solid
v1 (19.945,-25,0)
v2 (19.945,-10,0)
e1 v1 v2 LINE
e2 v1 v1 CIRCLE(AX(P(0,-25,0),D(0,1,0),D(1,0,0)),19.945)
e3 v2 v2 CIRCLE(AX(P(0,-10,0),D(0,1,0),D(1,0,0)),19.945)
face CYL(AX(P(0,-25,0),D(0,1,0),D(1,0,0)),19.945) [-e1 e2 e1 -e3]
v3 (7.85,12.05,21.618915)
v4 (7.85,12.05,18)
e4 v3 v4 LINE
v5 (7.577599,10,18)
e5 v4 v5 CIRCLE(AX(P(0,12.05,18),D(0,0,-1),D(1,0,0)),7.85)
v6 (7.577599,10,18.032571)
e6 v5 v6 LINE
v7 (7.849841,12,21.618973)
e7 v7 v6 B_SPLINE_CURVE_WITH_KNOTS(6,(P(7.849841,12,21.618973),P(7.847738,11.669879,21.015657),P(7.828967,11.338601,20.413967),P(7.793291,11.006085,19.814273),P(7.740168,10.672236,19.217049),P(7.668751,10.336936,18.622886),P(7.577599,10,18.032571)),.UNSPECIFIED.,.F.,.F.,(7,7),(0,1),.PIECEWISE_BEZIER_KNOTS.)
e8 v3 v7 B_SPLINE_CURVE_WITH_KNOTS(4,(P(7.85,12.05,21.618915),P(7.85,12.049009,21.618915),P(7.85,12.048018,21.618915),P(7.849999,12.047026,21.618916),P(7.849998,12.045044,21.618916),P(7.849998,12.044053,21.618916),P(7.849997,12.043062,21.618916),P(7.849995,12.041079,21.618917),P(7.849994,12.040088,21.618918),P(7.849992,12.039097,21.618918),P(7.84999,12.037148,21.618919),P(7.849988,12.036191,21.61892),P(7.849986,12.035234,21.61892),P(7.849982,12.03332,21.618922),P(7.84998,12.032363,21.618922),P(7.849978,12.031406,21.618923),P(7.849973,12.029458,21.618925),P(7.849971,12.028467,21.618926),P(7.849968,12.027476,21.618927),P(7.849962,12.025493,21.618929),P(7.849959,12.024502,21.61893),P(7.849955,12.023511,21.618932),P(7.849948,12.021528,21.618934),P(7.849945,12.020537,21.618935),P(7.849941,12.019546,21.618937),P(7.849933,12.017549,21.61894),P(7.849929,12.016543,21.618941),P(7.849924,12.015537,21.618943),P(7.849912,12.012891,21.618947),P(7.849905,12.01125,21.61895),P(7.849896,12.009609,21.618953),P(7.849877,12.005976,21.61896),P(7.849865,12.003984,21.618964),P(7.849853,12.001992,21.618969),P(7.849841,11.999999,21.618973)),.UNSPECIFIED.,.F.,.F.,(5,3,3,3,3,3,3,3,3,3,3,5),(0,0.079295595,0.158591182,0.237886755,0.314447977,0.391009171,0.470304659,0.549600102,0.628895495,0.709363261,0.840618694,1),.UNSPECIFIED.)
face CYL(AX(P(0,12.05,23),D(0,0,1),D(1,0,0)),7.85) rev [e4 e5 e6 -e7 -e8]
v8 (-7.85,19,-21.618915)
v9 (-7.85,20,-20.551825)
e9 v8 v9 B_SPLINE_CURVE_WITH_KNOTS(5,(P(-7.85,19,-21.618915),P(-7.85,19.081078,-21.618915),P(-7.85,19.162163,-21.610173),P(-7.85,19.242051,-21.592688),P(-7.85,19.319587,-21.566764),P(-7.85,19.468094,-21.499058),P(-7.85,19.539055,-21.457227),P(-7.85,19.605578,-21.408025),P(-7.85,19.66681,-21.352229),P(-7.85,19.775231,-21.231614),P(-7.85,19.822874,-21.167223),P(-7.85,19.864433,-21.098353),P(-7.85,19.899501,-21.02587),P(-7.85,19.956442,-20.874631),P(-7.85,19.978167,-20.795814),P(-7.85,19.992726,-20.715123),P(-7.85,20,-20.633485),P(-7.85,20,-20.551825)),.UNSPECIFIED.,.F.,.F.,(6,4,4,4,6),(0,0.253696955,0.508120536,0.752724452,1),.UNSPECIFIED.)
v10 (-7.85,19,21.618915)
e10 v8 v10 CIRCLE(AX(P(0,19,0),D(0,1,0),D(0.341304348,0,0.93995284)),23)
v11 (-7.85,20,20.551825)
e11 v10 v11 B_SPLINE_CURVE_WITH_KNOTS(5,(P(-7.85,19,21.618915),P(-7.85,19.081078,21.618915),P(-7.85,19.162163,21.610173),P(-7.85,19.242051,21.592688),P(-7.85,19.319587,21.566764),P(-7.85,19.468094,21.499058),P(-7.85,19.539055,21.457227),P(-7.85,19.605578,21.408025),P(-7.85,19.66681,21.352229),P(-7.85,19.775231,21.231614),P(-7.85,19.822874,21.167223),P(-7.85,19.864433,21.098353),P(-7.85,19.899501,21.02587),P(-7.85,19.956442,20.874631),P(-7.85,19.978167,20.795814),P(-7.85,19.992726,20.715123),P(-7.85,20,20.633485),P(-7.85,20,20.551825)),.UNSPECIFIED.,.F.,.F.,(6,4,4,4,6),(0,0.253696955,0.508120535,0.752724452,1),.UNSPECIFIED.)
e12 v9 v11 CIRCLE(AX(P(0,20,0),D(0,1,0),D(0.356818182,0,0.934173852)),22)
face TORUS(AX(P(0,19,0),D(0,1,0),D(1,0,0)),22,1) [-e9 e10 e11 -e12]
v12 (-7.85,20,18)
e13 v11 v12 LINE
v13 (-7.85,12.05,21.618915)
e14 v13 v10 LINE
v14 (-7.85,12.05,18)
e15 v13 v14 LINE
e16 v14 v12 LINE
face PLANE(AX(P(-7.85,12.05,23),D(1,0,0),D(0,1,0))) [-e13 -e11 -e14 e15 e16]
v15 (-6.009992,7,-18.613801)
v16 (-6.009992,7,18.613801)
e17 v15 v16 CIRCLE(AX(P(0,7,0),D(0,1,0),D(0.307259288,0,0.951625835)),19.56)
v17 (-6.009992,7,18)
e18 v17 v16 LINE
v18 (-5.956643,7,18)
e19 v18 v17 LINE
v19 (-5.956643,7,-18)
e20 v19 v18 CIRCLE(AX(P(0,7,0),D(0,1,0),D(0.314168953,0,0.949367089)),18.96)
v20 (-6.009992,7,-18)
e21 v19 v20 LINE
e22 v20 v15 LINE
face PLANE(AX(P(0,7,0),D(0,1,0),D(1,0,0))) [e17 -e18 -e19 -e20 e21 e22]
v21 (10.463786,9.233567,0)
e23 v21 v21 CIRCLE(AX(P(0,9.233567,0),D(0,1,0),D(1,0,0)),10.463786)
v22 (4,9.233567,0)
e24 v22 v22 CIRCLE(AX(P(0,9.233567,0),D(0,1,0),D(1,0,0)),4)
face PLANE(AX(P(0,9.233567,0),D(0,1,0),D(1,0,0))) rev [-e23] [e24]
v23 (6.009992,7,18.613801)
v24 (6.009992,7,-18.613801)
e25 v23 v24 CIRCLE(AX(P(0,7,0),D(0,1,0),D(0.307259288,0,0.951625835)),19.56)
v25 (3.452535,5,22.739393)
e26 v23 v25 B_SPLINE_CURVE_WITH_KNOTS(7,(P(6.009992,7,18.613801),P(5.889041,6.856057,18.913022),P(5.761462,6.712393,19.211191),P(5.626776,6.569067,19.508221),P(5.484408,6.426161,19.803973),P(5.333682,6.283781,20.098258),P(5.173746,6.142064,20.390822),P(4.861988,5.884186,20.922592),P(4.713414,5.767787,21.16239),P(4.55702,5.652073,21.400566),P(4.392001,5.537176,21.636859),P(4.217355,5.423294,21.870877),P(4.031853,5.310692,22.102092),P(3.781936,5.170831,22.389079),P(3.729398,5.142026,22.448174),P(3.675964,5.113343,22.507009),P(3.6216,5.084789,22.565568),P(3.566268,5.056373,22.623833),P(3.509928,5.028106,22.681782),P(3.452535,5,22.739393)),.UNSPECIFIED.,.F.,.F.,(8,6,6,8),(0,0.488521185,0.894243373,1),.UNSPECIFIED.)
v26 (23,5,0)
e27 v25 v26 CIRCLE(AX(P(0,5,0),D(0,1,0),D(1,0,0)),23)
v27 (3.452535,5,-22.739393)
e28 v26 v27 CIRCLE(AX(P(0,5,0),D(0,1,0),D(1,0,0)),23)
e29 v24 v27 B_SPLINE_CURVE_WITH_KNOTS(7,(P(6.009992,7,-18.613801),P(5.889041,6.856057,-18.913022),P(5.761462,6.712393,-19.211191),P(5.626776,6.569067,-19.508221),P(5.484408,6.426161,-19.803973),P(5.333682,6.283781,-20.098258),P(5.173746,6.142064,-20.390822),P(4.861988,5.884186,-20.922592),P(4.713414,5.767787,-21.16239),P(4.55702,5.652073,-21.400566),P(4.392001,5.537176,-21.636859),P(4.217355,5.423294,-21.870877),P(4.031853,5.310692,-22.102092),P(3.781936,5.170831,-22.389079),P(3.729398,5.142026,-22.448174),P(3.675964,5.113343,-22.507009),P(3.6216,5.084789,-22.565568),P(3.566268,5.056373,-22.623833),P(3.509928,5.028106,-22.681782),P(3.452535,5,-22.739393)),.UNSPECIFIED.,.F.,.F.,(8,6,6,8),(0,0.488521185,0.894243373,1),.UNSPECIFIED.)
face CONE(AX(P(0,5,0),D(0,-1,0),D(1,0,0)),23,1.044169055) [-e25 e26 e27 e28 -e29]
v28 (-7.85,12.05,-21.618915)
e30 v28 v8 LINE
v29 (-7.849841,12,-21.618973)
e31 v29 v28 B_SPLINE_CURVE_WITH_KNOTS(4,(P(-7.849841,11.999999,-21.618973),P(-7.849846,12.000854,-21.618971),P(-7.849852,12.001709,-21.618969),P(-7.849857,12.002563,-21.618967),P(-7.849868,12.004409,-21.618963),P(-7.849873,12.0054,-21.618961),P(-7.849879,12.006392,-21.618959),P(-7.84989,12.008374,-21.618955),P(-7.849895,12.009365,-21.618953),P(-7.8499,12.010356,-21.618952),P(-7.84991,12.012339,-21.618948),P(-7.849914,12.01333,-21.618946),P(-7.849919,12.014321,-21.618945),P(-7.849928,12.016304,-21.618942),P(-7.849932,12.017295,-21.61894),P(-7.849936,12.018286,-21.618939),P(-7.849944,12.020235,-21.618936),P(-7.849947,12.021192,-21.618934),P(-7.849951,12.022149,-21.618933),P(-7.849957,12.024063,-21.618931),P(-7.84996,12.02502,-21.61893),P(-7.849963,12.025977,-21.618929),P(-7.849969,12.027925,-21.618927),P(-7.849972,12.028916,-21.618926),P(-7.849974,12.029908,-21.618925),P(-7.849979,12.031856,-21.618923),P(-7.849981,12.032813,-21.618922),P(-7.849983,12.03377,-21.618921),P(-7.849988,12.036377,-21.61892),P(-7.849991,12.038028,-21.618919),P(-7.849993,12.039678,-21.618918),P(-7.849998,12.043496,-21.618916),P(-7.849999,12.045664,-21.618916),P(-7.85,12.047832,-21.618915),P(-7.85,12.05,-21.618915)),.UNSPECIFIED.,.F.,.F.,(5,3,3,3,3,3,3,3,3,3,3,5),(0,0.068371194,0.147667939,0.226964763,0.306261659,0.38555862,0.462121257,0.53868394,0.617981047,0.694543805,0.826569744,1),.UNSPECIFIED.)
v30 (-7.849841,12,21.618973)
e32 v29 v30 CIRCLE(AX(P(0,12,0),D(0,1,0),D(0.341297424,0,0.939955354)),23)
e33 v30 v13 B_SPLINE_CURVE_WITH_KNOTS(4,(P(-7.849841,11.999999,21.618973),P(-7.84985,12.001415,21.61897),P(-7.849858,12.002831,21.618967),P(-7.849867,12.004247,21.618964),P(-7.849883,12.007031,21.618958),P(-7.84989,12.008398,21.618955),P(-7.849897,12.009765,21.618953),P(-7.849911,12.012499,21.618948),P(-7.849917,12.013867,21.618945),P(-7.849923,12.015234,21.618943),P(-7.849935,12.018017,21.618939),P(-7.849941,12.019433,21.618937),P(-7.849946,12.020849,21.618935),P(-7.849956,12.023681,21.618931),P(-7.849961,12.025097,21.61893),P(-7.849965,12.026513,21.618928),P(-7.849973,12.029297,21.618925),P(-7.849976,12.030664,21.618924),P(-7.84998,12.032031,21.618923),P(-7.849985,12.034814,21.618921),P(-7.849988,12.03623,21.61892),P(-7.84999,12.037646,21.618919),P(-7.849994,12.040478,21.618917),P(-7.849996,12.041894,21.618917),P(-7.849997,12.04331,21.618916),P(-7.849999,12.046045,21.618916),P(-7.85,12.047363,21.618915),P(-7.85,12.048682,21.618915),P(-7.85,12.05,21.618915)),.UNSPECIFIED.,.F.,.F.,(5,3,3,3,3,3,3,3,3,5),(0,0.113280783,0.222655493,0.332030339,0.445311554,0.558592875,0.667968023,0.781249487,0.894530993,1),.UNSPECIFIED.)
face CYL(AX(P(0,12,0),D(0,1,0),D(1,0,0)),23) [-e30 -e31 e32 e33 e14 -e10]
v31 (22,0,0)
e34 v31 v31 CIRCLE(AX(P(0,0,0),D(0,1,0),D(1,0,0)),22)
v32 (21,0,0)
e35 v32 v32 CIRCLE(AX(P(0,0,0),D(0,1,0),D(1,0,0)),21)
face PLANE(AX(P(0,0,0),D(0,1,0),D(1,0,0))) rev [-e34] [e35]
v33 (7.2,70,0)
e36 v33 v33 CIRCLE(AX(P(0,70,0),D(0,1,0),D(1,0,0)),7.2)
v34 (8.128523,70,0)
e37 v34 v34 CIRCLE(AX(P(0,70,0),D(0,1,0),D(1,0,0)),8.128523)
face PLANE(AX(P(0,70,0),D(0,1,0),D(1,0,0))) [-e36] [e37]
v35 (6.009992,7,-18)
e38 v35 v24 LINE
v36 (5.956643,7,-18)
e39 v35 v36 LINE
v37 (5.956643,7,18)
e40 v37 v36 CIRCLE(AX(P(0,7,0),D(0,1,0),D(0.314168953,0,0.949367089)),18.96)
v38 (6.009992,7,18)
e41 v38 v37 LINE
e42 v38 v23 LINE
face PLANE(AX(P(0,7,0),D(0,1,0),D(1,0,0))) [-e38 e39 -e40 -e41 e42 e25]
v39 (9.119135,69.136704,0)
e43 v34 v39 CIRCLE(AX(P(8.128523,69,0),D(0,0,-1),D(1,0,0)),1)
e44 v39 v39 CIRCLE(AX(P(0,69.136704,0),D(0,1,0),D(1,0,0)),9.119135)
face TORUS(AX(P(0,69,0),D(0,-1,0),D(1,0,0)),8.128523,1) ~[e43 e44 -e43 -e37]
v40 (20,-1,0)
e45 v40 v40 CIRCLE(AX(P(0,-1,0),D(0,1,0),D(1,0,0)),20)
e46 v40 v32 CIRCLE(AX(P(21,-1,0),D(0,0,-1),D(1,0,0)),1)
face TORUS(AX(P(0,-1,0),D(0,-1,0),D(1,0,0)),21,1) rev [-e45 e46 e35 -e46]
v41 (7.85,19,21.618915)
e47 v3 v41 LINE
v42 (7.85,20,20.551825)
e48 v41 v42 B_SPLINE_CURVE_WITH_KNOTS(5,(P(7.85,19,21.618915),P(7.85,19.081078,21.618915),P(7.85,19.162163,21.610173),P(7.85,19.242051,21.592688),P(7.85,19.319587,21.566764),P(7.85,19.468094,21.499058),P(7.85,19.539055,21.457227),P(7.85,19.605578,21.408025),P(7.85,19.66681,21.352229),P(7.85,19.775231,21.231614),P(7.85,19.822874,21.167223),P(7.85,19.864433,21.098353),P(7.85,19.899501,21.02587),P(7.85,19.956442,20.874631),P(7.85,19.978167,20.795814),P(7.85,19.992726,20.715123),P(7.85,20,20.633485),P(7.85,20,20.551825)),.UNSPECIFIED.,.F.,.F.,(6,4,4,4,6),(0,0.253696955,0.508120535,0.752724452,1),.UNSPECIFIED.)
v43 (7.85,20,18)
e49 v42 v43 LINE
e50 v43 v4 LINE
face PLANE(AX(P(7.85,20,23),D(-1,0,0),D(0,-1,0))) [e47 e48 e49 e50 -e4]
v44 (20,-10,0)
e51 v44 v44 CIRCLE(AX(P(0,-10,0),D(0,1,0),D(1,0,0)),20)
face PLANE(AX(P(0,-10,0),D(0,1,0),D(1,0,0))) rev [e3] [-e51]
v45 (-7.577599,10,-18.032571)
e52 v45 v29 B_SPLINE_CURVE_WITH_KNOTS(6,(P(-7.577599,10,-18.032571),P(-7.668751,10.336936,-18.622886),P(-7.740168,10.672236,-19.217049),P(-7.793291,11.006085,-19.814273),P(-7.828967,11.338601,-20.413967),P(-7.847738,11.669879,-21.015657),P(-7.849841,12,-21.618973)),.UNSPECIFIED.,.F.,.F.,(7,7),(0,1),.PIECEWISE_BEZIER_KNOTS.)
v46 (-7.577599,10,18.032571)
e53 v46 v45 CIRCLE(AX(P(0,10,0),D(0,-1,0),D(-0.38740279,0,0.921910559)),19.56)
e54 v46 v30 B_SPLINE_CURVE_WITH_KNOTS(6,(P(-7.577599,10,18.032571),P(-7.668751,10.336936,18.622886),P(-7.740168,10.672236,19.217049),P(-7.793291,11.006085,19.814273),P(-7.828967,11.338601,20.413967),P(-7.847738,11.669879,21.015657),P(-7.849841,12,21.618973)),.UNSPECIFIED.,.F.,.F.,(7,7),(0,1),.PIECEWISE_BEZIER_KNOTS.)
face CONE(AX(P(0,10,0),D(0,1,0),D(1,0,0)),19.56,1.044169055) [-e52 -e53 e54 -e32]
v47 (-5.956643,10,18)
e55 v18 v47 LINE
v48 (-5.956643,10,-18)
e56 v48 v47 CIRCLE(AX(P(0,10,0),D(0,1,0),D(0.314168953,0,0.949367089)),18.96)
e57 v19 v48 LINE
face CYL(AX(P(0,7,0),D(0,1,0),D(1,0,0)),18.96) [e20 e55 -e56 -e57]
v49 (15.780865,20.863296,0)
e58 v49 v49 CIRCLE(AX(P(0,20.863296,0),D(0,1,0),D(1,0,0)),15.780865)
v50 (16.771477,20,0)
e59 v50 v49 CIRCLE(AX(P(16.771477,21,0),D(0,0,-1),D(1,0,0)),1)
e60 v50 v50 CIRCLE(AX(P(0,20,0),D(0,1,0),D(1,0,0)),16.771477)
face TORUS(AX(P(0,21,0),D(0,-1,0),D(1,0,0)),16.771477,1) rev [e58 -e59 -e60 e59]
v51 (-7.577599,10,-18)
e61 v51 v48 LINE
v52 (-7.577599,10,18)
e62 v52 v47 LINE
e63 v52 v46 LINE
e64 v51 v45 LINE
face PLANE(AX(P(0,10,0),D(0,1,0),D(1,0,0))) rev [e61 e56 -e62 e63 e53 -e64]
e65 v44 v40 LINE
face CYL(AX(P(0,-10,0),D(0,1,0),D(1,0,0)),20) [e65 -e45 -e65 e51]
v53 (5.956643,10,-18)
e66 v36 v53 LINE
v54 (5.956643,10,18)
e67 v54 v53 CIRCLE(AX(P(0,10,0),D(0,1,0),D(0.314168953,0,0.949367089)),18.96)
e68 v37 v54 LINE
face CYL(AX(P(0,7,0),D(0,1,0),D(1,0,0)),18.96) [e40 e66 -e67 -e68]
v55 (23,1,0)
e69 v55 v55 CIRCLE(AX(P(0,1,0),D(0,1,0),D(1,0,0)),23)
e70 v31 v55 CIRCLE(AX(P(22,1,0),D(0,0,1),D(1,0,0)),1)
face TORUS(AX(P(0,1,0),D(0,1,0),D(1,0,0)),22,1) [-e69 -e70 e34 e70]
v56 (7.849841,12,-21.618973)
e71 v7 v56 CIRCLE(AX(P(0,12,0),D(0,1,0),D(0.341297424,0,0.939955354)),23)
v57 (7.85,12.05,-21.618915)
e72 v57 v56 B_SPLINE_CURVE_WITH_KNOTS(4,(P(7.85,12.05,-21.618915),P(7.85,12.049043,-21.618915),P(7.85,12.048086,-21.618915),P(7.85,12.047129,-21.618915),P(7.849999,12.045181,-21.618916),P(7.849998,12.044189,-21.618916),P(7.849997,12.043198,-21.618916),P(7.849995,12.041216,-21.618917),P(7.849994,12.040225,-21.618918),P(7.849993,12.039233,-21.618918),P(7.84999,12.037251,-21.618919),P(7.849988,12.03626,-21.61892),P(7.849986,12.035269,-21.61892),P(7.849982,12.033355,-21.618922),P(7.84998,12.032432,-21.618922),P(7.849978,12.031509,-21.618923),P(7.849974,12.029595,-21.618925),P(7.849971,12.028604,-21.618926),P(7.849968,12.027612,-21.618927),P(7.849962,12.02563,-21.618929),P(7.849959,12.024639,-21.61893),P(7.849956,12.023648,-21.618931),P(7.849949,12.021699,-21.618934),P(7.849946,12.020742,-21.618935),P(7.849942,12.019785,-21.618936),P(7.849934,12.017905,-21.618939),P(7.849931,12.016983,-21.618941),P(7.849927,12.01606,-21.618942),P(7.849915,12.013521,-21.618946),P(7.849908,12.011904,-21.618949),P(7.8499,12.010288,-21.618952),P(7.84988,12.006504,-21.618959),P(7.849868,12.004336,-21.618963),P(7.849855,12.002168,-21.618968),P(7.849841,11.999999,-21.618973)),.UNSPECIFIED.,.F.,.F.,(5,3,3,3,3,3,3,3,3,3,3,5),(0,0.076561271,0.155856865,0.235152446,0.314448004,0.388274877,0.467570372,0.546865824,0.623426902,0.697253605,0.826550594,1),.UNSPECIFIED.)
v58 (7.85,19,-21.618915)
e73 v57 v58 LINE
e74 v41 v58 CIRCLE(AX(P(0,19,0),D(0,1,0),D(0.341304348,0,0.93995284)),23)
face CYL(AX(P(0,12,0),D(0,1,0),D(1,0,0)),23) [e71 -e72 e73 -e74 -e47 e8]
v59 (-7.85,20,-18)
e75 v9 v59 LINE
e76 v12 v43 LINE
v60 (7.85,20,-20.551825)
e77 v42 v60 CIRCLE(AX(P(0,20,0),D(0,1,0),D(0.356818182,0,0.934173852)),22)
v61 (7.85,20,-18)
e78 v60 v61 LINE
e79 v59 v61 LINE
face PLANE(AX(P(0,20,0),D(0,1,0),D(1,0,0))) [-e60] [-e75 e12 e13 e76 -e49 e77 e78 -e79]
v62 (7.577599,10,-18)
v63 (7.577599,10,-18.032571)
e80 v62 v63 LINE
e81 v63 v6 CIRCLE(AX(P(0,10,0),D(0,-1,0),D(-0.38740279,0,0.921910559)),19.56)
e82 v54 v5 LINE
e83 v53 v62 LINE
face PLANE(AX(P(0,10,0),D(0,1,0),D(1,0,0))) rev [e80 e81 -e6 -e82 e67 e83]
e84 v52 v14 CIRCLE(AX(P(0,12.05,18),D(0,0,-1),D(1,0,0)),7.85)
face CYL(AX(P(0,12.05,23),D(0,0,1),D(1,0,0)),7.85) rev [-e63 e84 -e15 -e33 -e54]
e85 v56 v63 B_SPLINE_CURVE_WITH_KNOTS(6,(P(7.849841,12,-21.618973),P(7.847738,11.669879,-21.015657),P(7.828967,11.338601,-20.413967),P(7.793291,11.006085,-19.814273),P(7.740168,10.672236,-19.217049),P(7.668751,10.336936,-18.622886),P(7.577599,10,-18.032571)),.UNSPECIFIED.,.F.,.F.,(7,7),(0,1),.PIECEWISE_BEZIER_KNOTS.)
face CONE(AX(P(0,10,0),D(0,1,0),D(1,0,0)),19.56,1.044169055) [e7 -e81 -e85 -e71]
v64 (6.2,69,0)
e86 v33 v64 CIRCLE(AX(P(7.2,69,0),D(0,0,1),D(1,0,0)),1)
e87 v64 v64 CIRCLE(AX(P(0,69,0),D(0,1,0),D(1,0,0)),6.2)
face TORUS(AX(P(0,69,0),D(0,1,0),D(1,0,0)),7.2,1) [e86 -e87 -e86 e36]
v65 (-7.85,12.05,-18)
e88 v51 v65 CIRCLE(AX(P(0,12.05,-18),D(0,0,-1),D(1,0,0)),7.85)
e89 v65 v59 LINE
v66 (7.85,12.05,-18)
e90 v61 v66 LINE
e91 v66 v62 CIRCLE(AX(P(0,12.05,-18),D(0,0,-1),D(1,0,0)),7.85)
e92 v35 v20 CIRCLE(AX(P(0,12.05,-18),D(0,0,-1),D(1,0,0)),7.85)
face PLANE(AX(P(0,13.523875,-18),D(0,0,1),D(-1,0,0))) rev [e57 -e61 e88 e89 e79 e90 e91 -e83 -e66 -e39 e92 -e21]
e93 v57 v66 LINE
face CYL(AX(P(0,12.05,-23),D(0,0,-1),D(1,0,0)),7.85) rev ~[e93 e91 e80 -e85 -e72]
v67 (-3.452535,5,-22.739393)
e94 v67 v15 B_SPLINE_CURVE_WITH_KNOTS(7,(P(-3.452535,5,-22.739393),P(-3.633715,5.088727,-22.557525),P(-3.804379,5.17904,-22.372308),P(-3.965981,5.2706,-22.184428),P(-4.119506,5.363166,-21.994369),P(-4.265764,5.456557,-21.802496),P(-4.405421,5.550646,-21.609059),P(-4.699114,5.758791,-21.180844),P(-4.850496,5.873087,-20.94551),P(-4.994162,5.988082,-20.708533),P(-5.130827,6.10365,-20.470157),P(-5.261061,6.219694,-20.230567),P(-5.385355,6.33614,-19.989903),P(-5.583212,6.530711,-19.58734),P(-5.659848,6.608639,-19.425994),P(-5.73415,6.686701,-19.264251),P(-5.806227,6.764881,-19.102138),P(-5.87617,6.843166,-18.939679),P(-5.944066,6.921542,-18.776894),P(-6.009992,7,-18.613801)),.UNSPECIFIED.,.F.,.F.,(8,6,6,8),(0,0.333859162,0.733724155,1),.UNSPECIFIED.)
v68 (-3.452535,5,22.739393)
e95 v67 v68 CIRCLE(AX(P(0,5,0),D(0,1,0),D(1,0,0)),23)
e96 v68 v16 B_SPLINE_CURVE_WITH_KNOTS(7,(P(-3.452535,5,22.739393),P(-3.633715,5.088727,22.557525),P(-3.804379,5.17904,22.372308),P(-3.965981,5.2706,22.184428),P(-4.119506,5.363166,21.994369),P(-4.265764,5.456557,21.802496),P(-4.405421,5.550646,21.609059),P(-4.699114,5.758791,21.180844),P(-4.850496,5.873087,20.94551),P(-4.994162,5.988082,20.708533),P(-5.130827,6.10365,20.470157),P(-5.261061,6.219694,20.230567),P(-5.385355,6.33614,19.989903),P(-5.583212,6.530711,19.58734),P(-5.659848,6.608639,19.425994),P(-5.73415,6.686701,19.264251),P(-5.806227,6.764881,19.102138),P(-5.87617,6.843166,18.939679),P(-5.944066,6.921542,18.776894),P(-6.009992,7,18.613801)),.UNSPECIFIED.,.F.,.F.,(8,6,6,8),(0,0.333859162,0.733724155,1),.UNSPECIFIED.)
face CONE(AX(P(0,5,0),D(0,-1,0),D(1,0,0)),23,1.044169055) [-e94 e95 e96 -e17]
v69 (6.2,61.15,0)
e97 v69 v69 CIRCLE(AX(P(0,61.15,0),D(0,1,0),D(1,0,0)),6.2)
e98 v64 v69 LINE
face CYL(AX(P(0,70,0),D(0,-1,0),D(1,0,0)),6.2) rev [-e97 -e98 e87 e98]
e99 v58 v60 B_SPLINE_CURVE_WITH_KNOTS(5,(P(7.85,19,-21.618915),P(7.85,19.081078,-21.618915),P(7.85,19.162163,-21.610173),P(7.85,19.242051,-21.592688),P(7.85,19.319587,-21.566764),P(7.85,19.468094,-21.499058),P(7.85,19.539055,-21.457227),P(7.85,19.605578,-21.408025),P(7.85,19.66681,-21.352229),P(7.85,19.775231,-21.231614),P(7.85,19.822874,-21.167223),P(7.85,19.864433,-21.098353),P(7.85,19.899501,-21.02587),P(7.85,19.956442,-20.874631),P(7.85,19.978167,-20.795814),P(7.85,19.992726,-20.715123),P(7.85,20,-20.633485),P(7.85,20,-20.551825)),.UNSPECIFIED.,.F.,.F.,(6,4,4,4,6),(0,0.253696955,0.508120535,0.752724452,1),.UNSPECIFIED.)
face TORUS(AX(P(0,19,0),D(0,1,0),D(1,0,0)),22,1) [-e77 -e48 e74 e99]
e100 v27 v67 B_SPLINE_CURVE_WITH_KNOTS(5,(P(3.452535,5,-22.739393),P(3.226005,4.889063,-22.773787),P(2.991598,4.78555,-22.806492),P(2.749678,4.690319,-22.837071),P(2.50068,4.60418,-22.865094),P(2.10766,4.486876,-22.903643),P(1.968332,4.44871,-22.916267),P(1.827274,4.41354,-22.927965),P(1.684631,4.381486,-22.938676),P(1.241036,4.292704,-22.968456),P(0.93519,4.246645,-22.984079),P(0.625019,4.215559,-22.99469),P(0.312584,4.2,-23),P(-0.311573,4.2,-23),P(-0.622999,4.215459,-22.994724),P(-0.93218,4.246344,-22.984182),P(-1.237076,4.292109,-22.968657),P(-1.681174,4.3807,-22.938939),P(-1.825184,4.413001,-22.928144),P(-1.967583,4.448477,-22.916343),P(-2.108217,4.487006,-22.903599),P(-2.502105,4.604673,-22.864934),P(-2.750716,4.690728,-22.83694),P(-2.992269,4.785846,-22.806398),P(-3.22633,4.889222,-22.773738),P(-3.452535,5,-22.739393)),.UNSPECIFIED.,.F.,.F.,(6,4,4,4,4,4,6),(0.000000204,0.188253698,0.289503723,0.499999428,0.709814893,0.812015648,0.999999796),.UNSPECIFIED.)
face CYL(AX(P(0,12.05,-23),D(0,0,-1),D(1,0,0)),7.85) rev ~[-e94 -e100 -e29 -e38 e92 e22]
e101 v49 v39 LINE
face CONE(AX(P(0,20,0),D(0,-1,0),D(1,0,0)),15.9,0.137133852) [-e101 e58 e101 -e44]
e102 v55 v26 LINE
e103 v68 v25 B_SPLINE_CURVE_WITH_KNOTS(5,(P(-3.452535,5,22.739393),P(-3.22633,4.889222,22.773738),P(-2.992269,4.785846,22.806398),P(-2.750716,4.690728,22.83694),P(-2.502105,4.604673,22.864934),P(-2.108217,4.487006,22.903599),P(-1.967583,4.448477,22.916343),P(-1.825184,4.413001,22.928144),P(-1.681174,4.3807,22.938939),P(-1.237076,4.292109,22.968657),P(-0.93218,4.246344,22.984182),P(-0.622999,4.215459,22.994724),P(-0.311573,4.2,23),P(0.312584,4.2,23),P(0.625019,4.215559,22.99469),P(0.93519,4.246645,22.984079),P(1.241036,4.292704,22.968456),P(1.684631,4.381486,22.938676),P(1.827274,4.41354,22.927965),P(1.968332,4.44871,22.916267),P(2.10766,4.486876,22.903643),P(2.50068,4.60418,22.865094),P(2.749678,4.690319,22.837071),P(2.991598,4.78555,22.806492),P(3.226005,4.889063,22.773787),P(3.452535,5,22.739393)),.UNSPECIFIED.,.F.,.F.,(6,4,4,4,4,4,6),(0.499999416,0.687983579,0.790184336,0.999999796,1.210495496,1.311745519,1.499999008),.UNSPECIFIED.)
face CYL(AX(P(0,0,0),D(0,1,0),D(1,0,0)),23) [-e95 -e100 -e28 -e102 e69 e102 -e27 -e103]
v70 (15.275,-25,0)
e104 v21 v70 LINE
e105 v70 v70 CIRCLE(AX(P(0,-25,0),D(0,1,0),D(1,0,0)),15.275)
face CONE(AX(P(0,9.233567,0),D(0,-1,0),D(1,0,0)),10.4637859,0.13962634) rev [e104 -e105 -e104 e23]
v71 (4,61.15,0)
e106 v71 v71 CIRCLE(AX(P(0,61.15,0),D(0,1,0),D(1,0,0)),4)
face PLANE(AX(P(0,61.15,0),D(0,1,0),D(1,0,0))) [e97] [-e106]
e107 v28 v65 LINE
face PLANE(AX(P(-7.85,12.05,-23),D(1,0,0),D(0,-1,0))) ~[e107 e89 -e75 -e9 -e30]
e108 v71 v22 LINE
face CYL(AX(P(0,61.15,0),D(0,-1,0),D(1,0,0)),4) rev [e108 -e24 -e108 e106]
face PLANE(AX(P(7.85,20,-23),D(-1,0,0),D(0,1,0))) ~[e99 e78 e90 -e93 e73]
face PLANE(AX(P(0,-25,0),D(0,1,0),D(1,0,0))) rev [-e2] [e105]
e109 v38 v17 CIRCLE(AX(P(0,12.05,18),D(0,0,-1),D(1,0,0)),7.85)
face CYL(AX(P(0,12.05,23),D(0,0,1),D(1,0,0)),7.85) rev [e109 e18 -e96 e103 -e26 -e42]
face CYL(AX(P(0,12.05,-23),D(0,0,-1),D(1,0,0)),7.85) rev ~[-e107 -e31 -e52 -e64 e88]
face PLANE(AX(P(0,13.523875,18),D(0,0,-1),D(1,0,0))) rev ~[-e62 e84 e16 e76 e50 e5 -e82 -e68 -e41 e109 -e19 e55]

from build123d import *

# Parameters (mm, degrees)
FILLET1_R      = 1
EXTRUDE1_DEPTH = 5


with BuildPart() as part:
    # Sketch1 → Revolve1 (revolve)
    with BuildSketch(Plane.XY):
        Polygon((9, 70), (6.2, 70), (6.2, 61.15), (4, 61.15), (4, 9.233567136), (10.4637859, 9.233567136), (15.275, -25), (19.945, -25), (19.945, -10), (20, -10), (20, 0), (23, 0), (23, 5), (19.56, 7), (18.96, 7), (18.96, 10), (19.56, 10), (23, 12), (23, 20), (15.9, 20), align=None)
    revolve(axis=Axis((0, 0, 0), (0, 1, 0)))

    # Fillet1
    fillet1_edges = [part.edges().sort_by_distance(p)[0] for p in [
        (-6.2, 70, 0),
        (-9, 70, 0),
        (-15.9, 20, 0),
        (-23, 20, 0),
        (-23, 0, 0),
        (-20, 0, 0),
    ]]
    fillet(fillet1_edges, radius=FILLET1_R)

    # Sketch2 → Extrude1 (cut)
    with BuildSketch(Plane(origin=(0, 15.5, 23), x_dir=(-1, 0, 0), z_dir=(0, 0, 1))):
        with BuildLine():
            Line((-7.85, -4.5), (-7.85, 3.45))
            ThreePointArc((-7.85, 3.45), (0, 11.3), (7.85, 3.45))
            Line((7.85, 3.45), (7.85, -4.5))
            Line((7.85, -4.5), (-7.85, -4.5))
        make_face()
    extrude1 = extrude(amount=-EXTRUDE1_DEPTH, mode=Mode.SUBTRACT)

    # Mirror1: Extrude1 across plane
    add(extrude1.mirror(Plane.XY), mode=Mode.SUBTRACT)


solid = part.part
